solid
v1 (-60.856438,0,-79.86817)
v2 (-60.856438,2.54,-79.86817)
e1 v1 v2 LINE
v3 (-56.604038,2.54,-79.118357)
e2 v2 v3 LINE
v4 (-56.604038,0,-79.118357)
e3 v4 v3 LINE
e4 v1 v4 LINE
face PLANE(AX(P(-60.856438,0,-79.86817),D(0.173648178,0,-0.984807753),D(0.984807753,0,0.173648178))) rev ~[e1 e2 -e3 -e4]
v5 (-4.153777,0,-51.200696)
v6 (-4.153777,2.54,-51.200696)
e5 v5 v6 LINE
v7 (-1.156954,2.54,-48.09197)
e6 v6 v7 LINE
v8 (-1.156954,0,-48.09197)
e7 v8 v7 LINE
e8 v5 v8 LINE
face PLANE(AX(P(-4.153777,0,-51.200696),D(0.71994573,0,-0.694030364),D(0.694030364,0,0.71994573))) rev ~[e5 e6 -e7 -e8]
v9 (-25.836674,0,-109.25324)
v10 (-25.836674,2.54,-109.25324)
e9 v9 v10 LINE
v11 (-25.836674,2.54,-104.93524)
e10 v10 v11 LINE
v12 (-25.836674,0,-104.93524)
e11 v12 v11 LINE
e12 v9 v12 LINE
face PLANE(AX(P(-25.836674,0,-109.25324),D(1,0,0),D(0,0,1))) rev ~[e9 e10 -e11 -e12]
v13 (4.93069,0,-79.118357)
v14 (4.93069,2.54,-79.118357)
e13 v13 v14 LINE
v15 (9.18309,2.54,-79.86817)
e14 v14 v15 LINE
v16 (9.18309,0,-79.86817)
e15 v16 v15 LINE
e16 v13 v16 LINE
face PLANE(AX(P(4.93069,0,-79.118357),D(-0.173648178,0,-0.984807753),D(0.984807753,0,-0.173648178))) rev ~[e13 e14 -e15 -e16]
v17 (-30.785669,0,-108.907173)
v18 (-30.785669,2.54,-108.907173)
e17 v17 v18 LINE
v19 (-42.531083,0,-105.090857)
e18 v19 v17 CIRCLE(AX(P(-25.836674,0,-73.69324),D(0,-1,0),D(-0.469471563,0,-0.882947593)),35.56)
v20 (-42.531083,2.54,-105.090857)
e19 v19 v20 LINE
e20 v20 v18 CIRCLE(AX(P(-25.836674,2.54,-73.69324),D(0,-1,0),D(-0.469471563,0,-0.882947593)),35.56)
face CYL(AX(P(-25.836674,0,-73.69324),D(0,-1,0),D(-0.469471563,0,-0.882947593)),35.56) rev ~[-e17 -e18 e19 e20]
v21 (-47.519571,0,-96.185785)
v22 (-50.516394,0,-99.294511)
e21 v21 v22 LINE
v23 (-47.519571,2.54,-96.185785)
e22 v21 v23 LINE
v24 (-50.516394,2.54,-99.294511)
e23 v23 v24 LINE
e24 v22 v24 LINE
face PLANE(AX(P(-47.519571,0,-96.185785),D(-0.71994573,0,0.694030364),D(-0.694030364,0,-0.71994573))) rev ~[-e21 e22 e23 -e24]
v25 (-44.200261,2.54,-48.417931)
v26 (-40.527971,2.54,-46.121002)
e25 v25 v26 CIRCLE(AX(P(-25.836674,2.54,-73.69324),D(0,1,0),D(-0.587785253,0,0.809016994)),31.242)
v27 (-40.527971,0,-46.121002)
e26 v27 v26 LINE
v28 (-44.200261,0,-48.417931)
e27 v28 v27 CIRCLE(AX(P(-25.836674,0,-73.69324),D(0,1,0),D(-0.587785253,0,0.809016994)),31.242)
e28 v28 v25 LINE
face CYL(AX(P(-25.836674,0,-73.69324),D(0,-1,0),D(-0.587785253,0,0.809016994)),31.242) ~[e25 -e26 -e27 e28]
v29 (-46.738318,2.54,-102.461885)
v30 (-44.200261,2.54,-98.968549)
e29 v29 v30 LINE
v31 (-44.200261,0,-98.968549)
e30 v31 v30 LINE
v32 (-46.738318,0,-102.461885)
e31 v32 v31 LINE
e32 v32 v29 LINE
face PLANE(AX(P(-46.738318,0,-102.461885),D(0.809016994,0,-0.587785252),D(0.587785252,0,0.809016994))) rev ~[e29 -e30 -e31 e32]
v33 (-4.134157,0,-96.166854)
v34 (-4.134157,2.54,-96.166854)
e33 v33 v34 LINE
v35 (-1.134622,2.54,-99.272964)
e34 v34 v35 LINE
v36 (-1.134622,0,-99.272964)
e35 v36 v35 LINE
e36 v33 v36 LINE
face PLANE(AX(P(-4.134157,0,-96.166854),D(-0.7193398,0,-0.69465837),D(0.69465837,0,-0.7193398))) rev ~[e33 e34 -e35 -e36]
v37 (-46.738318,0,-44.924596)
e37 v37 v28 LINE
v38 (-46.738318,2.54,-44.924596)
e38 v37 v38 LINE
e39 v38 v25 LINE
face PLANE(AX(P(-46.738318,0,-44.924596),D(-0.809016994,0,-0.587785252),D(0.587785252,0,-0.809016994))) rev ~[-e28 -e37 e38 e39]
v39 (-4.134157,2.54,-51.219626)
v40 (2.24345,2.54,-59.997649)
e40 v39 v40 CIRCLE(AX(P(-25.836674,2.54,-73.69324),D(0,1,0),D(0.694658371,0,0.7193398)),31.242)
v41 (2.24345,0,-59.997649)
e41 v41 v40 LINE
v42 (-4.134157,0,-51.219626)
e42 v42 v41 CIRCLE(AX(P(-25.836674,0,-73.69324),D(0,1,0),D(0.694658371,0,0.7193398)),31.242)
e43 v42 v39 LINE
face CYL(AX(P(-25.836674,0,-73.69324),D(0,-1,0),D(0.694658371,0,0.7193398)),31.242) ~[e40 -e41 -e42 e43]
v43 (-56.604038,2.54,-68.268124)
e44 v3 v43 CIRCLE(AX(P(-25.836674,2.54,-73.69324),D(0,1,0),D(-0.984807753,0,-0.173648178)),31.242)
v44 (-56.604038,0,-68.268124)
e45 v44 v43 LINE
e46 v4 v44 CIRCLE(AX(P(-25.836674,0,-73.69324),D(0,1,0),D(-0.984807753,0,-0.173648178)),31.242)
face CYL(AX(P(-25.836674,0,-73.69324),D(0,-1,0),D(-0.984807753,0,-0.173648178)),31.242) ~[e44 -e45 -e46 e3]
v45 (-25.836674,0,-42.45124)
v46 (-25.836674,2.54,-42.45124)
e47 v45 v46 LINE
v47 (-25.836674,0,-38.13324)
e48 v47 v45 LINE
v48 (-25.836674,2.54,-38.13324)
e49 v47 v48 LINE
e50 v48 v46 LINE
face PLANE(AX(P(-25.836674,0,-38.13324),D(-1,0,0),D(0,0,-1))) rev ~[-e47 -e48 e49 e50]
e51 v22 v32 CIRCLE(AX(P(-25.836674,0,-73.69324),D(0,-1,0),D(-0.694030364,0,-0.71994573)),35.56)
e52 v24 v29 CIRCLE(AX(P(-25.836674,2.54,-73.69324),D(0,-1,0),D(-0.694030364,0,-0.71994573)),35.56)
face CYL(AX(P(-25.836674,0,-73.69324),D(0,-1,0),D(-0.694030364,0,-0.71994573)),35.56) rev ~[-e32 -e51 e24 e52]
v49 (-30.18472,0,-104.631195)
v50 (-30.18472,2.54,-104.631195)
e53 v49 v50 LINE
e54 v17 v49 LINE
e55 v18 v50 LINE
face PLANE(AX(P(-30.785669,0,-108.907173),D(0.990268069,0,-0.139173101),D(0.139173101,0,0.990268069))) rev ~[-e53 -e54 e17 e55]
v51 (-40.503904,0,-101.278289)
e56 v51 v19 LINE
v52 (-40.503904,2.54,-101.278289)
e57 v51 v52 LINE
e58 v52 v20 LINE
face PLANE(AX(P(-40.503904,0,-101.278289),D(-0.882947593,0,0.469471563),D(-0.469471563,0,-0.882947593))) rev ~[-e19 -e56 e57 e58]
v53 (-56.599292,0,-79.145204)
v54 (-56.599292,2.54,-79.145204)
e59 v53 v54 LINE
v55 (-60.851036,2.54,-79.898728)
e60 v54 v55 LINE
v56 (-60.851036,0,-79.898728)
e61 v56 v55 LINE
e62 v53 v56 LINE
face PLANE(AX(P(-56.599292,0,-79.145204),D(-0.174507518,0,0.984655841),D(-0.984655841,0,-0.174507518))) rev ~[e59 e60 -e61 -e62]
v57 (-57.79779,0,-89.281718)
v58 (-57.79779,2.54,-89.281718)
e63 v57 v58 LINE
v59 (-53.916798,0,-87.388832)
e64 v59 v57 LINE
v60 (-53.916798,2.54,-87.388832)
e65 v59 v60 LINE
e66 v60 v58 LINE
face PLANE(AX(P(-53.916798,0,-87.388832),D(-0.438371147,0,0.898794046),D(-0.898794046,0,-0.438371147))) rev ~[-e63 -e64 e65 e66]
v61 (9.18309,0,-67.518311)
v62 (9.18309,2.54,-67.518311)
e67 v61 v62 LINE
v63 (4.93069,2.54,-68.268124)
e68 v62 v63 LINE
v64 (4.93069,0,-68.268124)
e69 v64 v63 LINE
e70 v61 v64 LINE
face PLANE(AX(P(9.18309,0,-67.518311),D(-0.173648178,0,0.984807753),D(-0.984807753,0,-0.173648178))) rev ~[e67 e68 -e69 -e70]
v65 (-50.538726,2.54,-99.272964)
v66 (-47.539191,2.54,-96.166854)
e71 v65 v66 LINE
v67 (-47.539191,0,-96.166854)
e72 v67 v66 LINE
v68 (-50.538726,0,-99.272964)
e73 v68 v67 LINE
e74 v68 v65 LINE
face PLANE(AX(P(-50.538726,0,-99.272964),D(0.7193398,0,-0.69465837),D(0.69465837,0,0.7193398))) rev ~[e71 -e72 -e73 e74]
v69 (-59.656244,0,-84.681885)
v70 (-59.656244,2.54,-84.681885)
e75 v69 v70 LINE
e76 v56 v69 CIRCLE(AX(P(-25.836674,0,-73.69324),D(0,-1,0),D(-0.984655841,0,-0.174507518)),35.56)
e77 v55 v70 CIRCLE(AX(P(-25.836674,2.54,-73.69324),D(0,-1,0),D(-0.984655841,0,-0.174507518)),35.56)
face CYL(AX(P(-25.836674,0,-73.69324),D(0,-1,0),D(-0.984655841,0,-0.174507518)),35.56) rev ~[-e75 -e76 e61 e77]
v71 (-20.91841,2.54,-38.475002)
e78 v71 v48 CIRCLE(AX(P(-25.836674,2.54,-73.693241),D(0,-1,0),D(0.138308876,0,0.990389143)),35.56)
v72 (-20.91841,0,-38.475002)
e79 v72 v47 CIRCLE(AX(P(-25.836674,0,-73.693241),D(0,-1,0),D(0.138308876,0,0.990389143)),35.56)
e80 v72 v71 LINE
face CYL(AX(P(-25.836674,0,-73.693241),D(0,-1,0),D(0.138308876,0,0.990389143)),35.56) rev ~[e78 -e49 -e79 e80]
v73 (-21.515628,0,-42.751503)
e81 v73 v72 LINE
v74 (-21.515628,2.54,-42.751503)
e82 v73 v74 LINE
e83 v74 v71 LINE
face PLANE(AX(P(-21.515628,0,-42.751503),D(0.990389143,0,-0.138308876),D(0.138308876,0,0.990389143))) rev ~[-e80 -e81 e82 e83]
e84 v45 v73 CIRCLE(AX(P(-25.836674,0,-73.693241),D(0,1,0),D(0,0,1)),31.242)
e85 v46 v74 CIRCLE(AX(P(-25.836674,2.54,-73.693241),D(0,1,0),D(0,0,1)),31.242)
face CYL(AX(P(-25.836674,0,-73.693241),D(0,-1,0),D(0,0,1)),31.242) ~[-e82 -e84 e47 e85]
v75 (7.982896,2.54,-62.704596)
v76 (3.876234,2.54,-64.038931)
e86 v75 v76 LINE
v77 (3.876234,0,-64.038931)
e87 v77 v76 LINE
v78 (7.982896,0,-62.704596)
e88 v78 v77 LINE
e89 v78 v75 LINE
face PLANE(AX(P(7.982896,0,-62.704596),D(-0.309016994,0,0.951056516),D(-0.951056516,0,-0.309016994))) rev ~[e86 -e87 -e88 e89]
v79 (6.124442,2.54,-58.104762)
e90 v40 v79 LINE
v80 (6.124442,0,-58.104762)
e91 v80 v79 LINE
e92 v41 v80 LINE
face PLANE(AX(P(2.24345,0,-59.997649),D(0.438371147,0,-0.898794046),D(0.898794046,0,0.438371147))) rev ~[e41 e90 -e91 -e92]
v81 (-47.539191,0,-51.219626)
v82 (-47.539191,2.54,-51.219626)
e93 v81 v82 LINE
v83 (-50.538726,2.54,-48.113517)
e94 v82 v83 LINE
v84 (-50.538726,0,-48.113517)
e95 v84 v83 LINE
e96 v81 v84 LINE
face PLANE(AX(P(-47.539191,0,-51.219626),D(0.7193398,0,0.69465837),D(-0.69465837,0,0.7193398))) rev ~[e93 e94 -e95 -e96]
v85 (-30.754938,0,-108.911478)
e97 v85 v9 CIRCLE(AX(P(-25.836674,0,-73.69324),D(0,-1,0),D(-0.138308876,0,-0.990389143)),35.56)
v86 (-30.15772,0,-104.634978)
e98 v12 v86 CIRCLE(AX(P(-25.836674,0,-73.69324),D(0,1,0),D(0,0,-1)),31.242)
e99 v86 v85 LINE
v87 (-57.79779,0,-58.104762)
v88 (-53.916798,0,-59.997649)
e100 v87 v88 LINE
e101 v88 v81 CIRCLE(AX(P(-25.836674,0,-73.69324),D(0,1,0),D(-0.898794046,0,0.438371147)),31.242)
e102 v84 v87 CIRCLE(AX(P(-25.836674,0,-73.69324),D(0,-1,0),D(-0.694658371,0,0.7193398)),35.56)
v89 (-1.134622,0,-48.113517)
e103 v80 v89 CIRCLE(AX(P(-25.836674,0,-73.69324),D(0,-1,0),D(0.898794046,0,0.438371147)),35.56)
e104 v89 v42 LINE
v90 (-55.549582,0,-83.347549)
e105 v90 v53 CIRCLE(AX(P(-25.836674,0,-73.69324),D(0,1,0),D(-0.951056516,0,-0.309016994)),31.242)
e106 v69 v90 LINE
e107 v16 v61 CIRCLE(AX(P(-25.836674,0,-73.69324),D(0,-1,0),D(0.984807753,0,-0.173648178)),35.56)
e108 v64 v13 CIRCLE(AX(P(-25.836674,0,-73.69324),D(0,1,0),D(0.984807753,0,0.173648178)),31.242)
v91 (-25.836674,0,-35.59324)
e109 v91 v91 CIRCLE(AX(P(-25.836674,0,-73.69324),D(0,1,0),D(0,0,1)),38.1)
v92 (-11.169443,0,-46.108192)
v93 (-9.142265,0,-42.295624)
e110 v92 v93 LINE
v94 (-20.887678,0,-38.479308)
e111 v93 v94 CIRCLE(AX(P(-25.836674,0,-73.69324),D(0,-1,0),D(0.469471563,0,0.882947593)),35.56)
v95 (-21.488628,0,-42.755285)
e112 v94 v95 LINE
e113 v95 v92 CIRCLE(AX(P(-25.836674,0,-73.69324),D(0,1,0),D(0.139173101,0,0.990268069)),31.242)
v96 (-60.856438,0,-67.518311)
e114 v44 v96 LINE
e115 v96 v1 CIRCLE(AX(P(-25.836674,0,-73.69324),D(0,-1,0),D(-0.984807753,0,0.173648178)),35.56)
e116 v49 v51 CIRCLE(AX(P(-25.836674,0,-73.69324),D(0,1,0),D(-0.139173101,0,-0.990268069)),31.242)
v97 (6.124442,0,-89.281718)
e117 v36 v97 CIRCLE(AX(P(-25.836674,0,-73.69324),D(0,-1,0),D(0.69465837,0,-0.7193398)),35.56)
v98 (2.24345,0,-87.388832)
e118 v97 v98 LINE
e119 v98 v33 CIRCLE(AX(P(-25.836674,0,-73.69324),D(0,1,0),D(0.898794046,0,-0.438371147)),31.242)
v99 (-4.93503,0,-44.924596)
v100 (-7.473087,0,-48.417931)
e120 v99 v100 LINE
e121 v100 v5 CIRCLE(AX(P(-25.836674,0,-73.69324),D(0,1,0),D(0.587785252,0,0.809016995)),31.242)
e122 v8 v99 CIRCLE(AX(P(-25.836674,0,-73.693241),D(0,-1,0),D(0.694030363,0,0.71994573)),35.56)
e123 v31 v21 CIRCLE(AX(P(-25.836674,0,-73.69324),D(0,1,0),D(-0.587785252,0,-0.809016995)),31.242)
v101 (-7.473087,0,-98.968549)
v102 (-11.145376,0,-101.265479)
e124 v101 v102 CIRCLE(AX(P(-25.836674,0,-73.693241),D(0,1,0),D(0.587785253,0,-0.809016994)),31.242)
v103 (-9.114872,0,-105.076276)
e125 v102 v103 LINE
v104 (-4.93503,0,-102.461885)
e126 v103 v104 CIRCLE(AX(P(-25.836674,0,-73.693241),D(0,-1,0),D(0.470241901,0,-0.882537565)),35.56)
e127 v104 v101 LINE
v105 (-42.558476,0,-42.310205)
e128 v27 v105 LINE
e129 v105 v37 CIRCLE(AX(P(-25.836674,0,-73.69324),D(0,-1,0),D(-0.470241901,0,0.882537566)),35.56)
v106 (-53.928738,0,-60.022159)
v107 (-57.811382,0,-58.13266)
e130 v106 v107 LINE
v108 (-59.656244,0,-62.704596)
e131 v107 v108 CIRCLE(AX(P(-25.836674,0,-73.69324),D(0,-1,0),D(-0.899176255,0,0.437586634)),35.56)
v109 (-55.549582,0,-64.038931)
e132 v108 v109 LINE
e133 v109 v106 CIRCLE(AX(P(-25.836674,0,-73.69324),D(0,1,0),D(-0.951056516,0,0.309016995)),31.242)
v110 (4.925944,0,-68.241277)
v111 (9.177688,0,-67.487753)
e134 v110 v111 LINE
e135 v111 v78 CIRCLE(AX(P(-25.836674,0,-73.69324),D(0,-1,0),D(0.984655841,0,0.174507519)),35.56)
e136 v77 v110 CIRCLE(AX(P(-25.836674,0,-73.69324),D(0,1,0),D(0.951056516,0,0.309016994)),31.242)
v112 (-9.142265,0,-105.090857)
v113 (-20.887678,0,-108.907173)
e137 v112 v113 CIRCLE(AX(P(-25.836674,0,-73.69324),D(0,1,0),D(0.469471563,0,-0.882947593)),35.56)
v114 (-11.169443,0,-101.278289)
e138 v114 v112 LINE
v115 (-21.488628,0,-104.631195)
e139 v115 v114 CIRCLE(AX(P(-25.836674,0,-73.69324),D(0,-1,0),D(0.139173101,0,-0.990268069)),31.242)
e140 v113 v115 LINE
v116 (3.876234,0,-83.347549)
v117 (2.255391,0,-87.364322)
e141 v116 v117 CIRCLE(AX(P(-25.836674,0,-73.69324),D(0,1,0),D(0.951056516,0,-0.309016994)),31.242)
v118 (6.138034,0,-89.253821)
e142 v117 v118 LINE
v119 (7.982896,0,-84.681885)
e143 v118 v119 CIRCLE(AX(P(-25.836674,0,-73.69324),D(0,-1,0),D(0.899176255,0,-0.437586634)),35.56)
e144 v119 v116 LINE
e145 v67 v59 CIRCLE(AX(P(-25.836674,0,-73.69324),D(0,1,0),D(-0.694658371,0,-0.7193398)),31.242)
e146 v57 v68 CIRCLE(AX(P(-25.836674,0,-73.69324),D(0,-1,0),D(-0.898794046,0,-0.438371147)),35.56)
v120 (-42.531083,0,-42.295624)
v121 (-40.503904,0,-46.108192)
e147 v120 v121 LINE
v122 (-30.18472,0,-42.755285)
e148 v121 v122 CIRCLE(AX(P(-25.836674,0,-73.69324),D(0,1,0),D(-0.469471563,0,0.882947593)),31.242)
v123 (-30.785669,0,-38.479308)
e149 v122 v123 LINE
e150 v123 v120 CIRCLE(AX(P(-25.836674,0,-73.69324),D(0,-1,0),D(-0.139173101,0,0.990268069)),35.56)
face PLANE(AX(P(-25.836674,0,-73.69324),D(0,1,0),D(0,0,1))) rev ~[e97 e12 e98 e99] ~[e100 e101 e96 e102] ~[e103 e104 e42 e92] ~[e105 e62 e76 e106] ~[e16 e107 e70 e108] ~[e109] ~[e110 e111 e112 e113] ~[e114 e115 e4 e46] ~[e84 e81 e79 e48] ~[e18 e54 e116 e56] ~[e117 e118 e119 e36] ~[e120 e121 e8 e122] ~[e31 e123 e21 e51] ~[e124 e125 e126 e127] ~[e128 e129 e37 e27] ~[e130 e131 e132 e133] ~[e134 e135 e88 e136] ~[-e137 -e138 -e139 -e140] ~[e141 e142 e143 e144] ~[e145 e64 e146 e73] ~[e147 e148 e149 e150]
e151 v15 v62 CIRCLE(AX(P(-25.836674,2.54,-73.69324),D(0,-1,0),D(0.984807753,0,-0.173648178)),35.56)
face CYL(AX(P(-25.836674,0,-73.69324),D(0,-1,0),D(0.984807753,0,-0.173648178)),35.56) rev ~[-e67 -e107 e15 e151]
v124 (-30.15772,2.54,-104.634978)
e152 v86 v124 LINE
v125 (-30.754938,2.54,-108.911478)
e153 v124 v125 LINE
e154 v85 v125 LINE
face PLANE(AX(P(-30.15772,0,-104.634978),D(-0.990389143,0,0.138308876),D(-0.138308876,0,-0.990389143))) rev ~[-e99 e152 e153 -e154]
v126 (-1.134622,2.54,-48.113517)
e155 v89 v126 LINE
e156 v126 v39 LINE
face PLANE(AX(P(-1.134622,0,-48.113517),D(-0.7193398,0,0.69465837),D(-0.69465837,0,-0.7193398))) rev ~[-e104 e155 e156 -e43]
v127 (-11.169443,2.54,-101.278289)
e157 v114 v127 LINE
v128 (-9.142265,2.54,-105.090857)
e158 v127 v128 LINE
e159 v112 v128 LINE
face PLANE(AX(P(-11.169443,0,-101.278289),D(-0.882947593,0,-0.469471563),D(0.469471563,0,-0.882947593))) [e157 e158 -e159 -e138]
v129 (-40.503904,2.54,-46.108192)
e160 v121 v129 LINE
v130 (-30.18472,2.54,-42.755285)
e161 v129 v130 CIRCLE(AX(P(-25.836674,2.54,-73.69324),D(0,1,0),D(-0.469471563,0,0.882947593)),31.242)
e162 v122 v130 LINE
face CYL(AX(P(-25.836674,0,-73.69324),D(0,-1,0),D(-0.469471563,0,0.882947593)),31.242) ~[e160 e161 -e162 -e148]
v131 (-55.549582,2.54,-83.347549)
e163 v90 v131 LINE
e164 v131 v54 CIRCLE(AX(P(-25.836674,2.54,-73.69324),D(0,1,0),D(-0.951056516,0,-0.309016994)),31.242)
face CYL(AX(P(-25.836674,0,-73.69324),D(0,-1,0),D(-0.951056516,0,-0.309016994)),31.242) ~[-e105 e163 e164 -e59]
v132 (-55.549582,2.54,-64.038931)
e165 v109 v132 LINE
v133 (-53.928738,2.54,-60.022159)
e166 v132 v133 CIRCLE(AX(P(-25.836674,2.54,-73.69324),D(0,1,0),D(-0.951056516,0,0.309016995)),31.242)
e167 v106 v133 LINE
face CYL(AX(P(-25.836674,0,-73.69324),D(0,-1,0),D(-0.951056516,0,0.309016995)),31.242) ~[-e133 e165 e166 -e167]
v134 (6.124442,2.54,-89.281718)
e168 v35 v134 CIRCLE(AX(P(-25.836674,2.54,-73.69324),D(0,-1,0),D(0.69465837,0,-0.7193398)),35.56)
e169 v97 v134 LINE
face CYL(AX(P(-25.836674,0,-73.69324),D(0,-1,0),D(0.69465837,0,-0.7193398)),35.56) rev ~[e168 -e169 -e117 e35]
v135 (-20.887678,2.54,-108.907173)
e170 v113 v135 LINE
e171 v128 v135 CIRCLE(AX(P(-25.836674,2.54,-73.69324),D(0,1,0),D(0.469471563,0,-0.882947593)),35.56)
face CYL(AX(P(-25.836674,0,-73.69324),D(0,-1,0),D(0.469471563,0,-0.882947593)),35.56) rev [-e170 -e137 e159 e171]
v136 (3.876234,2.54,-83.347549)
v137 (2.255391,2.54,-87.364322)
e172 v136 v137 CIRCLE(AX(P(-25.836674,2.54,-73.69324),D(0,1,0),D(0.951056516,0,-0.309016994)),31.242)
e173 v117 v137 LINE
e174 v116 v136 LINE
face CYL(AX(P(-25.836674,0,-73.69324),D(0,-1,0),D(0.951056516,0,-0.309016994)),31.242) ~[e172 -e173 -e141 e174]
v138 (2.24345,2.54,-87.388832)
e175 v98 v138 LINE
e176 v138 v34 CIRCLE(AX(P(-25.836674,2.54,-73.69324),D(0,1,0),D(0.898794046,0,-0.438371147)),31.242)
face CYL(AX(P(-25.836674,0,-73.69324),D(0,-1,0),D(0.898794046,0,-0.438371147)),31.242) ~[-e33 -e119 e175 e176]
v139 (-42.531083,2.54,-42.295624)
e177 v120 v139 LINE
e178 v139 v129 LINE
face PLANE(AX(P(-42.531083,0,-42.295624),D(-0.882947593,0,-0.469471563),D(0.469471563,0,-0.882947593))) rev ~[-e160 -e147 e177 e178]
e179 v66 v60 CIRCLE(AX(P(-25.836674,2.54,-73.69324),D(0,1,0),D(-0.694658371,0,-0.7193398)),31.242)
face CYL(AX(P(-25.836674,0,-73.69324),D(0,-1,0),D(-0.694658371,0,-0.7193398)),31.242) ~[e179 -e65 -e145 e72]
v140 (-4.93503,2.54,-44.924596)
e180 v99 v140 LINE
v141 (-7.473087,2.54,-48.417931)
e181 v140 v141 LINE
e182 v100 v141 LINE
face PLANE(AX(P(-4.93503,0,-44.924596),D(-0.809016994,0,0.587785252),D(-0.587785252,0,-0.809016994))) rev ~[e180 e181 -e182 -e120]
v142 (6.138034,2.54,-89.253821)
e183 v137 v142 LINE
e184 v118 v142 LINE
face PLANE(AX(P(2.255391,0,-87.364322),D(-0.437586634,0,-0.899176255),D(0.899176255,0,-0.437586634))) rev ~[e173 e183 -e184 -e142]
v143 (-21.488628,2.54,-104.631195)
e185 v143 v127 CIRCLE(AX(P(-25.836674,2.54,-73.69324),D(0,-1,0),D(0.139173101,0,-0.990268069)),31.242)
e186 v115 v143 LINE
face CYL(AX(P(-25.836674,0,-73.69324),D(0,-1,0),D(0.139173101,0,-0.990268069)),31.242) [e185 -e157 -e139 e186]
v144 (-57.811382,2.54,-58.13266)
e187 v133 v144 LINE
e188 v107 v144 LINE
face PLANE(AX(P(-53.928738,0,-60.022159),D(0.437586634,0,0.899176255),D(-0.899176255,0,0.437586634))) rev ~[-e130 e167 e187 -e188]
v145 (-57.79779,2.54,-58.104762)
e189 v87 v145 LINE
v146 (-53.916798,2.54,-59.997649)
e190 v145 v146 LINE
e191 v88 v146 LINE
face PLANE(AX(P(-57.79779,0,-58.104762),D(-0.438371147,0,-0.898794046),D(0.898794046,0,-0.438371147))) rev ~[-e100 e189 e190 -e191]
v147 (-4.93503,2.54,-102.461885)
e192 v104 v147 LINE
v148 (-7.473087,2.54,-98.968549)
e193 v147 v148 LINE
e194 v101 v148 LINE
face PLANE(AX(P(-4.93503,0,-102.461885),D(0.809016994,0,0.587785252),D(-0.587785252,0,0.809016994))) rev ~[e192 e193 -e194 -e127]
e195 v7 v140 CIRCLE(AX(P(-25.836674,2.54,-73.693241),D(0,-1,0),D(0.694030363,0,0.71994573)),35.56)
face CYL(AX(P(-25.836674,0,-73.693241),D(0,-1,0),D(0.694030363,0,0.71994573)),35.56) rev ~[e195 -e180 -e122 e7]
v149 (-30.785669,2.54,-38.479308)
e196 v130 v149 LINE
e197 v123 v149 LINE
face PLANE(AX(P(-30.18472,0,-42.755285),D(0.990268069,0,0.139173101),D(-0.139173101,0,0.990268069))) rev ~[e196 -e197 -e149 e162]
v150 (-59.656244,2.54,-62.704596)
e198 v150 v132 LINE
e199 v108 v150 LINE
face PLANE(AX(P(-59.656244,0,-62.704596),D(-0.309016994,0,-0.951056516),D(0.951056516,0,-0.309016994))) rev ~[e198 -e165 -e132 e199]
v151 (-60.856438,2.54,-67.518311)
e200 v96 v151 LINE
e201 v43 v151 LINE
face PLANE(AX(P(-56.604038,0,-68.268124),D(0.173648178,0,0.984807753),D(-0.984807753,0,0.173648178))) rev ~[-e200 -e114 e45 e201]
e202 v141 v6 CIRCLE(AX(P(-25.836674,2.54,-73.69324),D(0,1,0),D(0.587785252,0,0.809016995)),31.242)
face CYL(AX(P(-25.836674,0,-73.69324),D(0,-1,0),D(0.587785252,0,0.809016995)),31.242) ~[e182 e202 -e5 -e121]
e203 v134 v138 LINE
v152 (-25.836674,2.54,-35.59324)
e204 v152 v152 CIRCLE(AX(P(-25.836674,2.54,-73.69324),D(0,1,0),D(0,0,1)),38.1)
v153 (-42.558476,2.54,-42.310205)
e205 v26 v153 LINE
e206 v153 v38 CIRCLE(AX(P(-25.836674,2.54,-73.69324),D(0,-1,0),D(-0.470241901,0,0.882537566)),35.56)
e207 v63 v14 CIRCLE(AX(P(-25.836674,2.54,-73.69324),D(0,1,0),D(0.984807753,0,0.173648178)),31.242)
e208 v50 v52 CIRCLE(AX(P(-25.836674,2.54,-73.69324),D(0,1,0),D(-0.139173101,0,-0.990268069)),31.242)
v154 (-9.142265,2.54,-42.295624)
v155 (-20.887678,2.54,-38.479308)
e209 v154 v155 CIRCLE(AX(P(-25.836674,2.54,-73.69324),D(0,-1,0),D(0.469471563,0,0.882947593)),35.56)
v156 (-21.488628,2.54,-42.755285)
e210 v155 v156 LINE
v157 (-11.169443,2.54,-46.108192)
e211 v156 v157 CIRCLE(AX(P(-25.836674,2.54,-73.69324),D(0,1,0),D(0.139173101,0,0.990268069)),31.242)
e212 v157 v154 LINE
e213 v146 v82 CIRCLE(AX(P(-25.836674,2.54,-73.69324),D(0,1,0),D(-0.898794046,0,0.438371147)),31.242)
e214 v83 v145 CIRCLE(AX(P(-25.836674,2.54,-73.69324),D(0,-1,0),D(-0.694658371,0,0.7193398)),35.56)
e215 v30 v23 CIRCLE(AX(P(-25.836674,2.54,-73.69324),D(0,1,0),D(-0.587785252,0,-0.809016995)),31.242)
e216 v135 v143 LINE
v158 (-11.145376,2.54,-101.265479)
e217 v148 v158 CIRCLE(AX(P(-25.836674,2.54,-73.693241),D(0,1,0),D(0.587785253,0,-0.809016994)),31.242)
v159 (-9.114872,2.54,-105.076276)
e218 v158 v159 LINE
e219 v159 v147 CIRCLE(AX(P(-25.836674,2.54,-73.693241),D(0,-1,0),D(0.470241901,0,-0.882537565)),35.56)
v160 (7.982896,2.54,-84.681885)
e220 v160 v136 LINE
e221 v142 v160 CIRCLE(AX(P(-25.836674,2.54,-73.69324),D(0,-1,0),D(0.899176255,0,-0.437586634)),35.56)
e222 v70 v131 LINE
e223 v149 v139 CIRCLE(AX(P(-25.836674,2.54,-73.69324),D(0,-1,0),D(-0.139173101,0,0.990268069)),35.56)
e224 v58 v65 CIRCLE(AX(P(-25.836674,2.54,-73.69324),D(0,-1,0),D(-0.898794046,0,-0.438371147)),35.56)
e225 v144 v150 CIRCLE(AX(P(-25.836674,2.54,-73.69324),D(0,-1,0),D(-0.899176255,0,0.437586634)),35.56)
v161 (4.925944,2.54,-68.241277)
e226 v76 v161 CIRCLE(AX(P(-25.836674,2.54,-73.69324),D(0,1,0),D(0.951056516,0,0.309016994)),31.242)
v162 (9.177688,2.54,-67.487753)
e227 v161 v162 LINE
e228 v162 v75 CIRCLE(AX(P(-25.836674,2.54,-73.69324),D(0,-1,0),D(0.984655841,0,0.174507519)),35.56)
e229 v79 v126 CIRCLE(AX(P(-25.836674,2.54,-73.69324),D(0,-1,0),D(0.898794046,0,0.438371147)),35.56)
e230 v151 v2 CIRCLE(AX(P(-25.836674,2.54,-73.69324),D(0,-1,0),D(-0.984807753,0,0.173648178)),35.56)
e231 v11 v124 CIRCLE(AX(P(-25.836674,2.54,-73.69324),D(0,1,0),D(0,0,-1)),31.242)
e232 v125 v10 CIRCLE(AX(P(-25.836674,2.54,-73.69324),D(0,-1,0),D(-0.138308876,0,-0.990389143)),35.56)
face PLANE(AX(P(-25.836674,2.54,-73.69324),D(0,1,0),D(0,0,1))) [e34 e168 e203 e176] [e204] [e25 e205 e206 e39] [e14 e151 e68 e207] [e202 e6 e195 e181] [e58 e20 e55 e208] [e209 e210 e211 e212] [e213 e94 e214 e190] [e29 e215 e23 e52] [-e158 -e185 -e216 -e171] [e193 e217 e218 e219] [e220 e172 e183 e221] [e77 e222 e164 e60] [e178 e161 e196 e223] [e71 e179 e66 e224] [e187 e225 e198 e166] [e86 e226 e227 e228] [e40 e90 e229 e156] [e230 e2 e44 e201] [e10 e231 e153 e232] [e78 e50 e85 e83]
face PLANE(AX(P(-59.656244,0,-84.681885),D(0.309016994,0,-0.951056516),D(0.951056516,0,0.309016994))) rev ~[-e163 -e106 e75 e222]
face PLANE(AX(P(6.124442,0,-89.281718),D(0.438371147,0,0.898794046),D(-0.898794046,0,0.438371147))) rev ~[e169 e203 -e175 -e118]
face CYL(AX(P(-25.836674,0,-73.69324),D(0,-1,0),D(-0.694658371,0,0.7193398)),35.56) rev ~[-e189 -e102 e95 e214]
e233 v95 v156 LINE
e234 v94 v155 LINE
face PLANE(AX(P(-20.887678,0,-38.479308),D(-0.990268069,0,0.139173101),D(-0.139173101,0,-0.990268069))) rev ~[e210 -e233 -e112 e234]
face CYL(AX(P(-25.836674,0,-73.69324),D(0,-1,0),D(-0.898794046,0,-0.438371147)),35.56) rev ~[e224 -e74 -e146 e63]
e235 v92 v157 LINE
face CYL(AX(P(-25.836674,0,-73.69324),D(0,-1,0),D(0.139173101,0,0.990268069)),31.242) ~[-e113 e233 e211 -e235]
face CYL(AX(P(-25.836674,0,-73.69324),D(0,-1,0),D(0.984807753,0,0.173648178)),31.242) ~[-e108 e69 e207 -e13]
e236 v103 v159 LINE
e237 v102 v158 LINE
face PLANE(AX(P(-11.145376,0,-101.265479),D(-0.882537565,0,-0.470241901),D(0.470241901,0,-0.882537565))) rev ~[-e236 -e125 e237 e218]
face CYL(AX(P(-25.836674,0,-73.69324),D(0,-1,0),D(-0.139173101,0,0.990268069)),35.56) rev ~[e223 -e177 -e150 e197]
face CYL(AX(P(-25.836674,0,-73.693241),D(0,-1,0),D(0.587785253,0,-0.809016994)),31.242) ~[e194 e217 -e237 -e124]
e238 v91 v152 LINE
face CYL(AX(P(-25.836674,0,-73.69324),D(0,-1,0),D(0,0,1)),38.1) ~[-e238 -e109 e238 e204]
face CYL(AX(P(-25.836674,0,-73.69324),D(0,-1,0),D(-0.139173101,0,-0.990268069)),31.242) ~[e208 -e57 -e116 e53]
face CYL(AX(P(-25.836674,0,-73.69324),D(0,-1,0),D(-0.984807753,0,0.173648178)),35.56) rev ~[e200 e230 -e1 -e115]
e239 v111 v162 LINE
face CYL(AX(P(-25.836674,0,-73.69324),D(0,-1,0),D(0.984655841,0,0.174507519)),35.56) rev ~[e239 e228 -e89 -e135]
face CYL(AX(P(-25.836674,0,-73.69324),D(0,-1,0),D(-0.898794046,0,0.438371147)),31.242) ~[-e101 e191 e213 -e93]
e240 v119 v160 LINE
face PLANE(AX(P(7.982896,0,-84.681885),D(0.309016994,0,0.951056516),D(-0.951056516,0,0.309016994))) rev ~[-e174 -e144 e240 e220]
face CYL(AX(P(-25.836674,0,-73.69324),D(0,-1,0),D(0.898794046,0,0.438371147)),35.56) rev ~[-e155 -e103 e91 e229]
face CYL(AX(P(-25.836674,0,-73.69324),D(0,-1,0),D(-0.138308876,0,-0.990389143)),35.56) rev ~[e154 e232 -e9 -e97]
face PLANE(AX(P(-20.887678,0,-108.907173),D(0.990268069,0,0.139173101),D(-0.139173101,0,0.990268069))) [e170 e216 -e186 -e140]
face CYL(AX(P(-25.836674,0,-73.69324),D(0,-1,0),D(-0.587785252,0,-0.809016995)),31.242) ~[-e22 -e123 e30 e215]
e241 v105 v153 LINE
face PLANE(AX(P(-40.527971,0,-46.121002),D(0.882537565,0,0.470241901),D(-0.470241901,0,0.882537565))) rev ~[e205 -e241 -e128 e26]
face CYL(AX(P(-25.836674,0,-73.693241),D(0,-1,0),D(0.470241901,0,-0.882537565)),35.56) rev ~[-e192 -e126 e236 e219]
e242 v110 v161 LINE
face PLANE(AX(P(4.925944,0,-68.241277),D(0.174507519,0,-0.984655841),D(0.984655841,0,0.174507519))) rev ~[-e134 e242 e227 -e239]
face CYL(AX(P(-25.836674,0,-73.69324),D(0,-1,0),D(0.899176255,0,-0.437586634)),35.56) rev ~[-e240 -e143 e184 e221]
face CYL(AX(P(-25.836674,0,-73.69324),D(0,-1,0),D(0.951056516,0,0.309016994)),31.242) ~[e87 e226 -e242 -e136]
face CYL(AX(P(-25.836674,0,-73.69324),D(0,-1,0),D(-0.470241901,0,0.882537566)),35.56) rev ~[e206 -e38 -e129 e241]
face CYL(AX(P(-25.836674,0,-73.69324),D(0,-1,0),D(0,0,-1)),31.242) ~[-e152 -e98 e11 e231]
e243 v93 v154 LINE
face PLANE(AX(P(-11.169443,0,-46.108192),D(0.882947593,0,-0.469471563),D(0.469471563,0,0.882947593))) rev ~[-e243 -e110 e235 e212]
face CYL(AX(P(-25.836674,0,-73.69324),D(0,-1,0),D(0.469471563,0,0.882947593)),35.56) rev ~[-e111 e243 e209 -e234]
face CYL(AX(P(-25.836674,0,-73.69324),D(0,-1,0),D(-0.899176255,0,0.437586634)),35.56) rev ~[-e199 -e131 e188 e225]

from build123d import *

# Parameters (mm, degrees)
SKETCH1_R           = 38.1
BOSS_EXTRUDE3_DEPTH = 2.54


with BuildPart() as part:
    # Sketch1 → Boss-Extrude3 (new body)
    with BuildSketch(Plane(origin=(0, 0, 0), x_dir=(1, 0, 0), z_dir=(0, 1, 0))):
        with Locations(Location((-25.836673929, 73.693240411, 0), (0, 0, 270))):  # turned: the seam where the file's is
            Circle(SKETCH1_R)
        with BuildLine():
            Line((6.124442357, 89.281718391), (2.243449665, 87.388831779))
            ThreePointArc((2.243449665, 87.388831779), (-0.561364991, 92.056827263), (-4.134157119, 96.166854453))
            Line((-4.134157119, 96.166854453), (-1.134622276, 99.272963711))
            ThreePointArc((-1.134622276, 99.272963711), (2.931970391, 94.594883983), (6.124442357, 89.281718391))
        make_face(mode=Mode.SUBTRACT)
        with BuildLine():
            Line((-4.935030358, 102.461884731), (-7.473087077, 98.968549349))
            ThreePointArc((-7.473087077, 98.968549349), (-9.26937735, 100.180732706), (-11.145376456, 101.265479032))
            Line((-11.145376456, 101.265479032), (-9.114871927, 105.07627624))
            ThreePointArc((-9.114871927, 105.07627624), (-6.979588392, 103.841605625), (-4.935030358, 102.461884731))
        make_face(mode=Mode.SUBTRACT)
        with BuildLine():
            Line((9.183089768, 67.518311213), (4.930689891, 68.268124045))
            ThreePointArc((4.930689891, 68.268124045), (5.405326071, 73.693240411), (4.930689891, 79.118356778))
            Line((4.930689891, 79.118356778), (9.183089768, 79.868169609))
            ThreePointArc((9.183089768, 79.868169609), (9.723326071, 73.693240411), (9.183089768, 67.518311213))
        make_face(mode=Mode.SUBTRACT)
        with BuildLine():
            Line((7.98289579, 84.681884731), (3.876233753, 83.347549349))
            ThreePointArc((3.876233753, 83.347549349), (3.135507895, 85.384059217), (2.25539063, 87.364322037))
            Line((2.25539063, 87.364322037), (6.138033699, 89.253821123))
            ThreePointArc((6.138033699, 89.253821123), (7.139793188, 86.999863442), (7.98289579, 84.681884731))
        make_face(mode=Mode.SUBTRACT)
        with BuildLine():
            Line((-1.134622276, 48.113517111), (-4.134157119, 51.219626369))
            ThreePointArc((-4.134157119, 51.219626369), (-0.561364991, 55.329653559), (2.243449665, 59.997649043))
            Line((2.243449665, 59.997649043), (6.124442357, 58.104762431))
            ThreePointArc((6.124442357, 58.104762431), (2.931970391, 52.79159684), (-1.134622276, 48.113517111))
        make_face(mode=Mode.SUBTRACT)
        with BuildLine():
            Line((7.98289579, 62.704596091), (3.876233753, 64.038931473))
            ThreePointArc((3.876233753, 64.038931473), (4.474004412, 66.1218903), (4.925943869, 68.241276524))
            Line((4.925943869, 68.241276524), (9.177687792, 67.487753059))
            ThreePointArc((9.177687792, 67.487753059), (8.663285158, 65.075443537), (7.98289579, 62.704596091))
        make_face(mode=Mode.SUBTRACT)
        with BuildLine():
            Line((-20.887678459, 38.479307887), (-21.488627909, 42.755285408))
            ThreePointArc((-21.488627909, 42.755285408), (-16.182364991, 43.980332729), (-11.169443364, 46.108191715))
            Line((-11.169443364, 46.108191715), (-9.142265156, 42.295624009))
            ThreePointArc((-9.142265156, 42.295624009), (-14.848029609, 39.873670692), (-20.887678459, 38.479307887))
        make_face(mode=Mode.SUBTRACT)
        with BuildLine():
            Line((-4.935030358, 44.924596091), (-7.473087077, 48.417931473))
            ThreePointArc((-7.473087077, 48.417931473), (-5.765147975, 49.751719785), (-4.153777308, 51.20069591))
            Line((-4.153777308, 51.20069591), (-1.156954198, 48.091970247))
            ThreePointArc((-1.156954198, 48.091970247), (-2.991034632, 46.44272913), (-4.935030358, 44.924596091))
        make_face(mode=Mode.SUBTRACT)
        with BuildLine():
            Line((-42.531082702, 42.295624009), (-40.503904494, 46.108191715))
            ThreePointArc((-40.503904494, 46.108191715), (-35.490982867, 43.980332729), (-30.184719949, 42.755285408))
            Line((-30.184719949, 42.755285408), (-30.785669399, 38.479307887))
            ThreePointArc((-30.785669399, 38.479307887), (-36.825318249, 39.873670692), (-42.531082702, 42.295624009))
        make_face(mode=Mode.SUBTRACT)
        with BuildLine():
            Line((-25.836673929, 38.133240411), (-25.836673929, 42.451240411))
            ThreePointArc((-25.836673929, 42.451240411), (-23.670941071, 42.526396407), (-21.51562802, 42.751502802))
            Line((-21.51562802, 42.751502802), (-20.918410293, 38.475002482))
            ThreePointArc((-20.918410293, 38.475002482), (-23.371612139, 38.218783821), (-25.836673929, 38.133240411))
        make_face(mode=Mode.SUBTRACT)
        with BuildLine():
            Line((-57.797790215, 58.104762431), (-53.916797524, 59.997649043))
            ThreePointArc((-53.916797524, 59.997649043), (-51.111982867, 55.329653559), (-47.539190739, 51.219626369))
            Line((-47.539190739, 51.219626369), (-50.538725583, 48.113517111))
            ThreePointArc((-50.538725583, 48.113517111), (-54.605318249, 52.79159684), (-57.797790215, 58.104762431))
        make_face(mode=Mode.SUBTRACT)
        with BuildLine():
            Line((-46.738317501, 44.924596091), (-44.200260781, 48.417931473))
            ThreePointArc((-44.200260781, 48.417931473), (-42.403970508, 47.205748116), (-40.527971402, 46.12100179))
            Line((-40.527971402, 46.12100179), (-42.558475931, 42.310204583))
            ThreePointArc((-42.558475931, 42.310204583), (-44.693759466, 43.544875197), (-46.738317501, 44.924596091))
        make_face(mode=Mode.SUBTRACT)
        with BuildLine():
            Line((-60.856437626, 79.868169609), (-56.604037749, 79.118356778))
            ThreePointArc((-56.604037749, 79.118356778), (-57.078673929, 73.693240411), (-56.604037749, 68.268124045))
            Line((-56.604037749, 68.268124045), (-60.856437626, 67.518311213))
            ThreePointArc((-60.856437626, 67.518311213), (-61.396673929, 73.693240411), (-60.856437626, 79.868169609))
        make_face(mode=Mode.SUBTRACT)
        with BuildLine():
            Line((-59.656243648, 62.704596091), (-55.549581611, 64.038931473))
            ThreePointArc((-55.549581611, 64.038931473), (-54.808855753, 62.002421606), (-53.928738488, 60.022158786))
            Line((-53.928738488, 60.022158786), (-57.811381557, 58.132659699))
            ThreePointArc((-57.811381557, 58.132659699), (-58.813141046, 60.38661738), (-59.656243648, 62.704596091))
        make_face(mode=Mode.SUBTRACT)
        with BuildLine():
            Line((-50.538725583, 99.272963711), (-47.539190739, 96.166854453))
            ThreePointArc((-47.539190739, 96.166854453), (-51.111982867, 92.056827263), (-53.916797524, 87.388831779))
            Line((-53.916797524, 87.388831779), (-57.797790215, 89.281718391))
            ThreePointArc((-57.797790215, 89.281718391), (-54.605318249, 94.594883983), (-50.538725583, 99.272963711))
        make_face(mode=Mode.SUBTRACT)
        with BuildLine():
            Line((-59.656243648, 84.681884731), (-55.549581611, 83.347549349))
            ThreePointArc((-55.549581611, 83.347549349), (-56.14735227, 81.264590522), (-56.599291727, 79.145204299))
            Line((-56.599291727, 79.145204299), (-60.85103565, 79.898727763))
            ThreePointArc((-60.85103565, 79.898727763), (-60.336633016, 82.311037286), (-59.656243648, 84.681884731))
        make_face(mode=Mode.SUBTRACT)
        with BuildLine():
            Line((-30.785669399, 108.907172936), (-30.184719949, 104.631195415))
            ThreePointArc((-30.184719949, 104.631195415), (-35.490982867, 103.406148093), (-40.503904494, 101.278289107))
            Line((-40.503904494, 101.278289107), (-42.531082702, 105.090856813))
            ThreePointArc((-42.531082702, 105.090856813), (-36.825318249, 107.512810131), (-30.785669399, 108.907172936))
        make_face(mode=Mode.SUBTRACT)
        with BuildLine():
            Line((-46.738317501, 102.461884731), (-44.200260781, 98.968549349))
            ThreePointArc((-44.200260781, 98.968549349), (-45.908199883, 97.634761037), (-47.51957055, 96.185784912))
            Line((-47.51957055, 96.185784912), (-50.51639366, 99.294510575))
            ThreePointArc((-50.51639366, 99.294510575), (-48.682313226, 100.943751693), (-46.738317501, 102.461884731))
        make_face(mode=Mode.SUBTRACT)
        with BuildLine():
            Line((-25.836673929, 109.253240411), (-25.836673929, 104.935240411))
            ThreePointArc((-25.836673929, 104.935240411), (-28.002406787, 104.860084415), (-30.157719838, 104.63497802))
            Line((-30.157719838, 104.63497802), (-30.754937565, 108.91147834))
            ThreePointArc((-30.754937565, 108.91147834), (-28.301735719, 109.167697001), (-25.836673929, 109.253240411))
        make_face(mode=Mode.SUBTRACT)
        with BuildLine():
            Line((-20.887678459, 108.907172936), (-21.488627909, 104.631195415))
            ThreePointArc((-21.488627909, 104.631195415), (-16.182364991, 103.406148093), (-11.169443364, 101.278289107))
            Line((-11.169443364, 101.278289107), (-9.142265156, 105.090856813))
            ThreePointArc((-9.142265156, 105.090856813), (-14.848029609, 107.512810131), (-20.887678459, 108.907172936))
        make_face(mode=Mode.SUBTRACT)
    extrude(amount=BOSS_EXTRUDE3_DEPTH)


solid = part.part
